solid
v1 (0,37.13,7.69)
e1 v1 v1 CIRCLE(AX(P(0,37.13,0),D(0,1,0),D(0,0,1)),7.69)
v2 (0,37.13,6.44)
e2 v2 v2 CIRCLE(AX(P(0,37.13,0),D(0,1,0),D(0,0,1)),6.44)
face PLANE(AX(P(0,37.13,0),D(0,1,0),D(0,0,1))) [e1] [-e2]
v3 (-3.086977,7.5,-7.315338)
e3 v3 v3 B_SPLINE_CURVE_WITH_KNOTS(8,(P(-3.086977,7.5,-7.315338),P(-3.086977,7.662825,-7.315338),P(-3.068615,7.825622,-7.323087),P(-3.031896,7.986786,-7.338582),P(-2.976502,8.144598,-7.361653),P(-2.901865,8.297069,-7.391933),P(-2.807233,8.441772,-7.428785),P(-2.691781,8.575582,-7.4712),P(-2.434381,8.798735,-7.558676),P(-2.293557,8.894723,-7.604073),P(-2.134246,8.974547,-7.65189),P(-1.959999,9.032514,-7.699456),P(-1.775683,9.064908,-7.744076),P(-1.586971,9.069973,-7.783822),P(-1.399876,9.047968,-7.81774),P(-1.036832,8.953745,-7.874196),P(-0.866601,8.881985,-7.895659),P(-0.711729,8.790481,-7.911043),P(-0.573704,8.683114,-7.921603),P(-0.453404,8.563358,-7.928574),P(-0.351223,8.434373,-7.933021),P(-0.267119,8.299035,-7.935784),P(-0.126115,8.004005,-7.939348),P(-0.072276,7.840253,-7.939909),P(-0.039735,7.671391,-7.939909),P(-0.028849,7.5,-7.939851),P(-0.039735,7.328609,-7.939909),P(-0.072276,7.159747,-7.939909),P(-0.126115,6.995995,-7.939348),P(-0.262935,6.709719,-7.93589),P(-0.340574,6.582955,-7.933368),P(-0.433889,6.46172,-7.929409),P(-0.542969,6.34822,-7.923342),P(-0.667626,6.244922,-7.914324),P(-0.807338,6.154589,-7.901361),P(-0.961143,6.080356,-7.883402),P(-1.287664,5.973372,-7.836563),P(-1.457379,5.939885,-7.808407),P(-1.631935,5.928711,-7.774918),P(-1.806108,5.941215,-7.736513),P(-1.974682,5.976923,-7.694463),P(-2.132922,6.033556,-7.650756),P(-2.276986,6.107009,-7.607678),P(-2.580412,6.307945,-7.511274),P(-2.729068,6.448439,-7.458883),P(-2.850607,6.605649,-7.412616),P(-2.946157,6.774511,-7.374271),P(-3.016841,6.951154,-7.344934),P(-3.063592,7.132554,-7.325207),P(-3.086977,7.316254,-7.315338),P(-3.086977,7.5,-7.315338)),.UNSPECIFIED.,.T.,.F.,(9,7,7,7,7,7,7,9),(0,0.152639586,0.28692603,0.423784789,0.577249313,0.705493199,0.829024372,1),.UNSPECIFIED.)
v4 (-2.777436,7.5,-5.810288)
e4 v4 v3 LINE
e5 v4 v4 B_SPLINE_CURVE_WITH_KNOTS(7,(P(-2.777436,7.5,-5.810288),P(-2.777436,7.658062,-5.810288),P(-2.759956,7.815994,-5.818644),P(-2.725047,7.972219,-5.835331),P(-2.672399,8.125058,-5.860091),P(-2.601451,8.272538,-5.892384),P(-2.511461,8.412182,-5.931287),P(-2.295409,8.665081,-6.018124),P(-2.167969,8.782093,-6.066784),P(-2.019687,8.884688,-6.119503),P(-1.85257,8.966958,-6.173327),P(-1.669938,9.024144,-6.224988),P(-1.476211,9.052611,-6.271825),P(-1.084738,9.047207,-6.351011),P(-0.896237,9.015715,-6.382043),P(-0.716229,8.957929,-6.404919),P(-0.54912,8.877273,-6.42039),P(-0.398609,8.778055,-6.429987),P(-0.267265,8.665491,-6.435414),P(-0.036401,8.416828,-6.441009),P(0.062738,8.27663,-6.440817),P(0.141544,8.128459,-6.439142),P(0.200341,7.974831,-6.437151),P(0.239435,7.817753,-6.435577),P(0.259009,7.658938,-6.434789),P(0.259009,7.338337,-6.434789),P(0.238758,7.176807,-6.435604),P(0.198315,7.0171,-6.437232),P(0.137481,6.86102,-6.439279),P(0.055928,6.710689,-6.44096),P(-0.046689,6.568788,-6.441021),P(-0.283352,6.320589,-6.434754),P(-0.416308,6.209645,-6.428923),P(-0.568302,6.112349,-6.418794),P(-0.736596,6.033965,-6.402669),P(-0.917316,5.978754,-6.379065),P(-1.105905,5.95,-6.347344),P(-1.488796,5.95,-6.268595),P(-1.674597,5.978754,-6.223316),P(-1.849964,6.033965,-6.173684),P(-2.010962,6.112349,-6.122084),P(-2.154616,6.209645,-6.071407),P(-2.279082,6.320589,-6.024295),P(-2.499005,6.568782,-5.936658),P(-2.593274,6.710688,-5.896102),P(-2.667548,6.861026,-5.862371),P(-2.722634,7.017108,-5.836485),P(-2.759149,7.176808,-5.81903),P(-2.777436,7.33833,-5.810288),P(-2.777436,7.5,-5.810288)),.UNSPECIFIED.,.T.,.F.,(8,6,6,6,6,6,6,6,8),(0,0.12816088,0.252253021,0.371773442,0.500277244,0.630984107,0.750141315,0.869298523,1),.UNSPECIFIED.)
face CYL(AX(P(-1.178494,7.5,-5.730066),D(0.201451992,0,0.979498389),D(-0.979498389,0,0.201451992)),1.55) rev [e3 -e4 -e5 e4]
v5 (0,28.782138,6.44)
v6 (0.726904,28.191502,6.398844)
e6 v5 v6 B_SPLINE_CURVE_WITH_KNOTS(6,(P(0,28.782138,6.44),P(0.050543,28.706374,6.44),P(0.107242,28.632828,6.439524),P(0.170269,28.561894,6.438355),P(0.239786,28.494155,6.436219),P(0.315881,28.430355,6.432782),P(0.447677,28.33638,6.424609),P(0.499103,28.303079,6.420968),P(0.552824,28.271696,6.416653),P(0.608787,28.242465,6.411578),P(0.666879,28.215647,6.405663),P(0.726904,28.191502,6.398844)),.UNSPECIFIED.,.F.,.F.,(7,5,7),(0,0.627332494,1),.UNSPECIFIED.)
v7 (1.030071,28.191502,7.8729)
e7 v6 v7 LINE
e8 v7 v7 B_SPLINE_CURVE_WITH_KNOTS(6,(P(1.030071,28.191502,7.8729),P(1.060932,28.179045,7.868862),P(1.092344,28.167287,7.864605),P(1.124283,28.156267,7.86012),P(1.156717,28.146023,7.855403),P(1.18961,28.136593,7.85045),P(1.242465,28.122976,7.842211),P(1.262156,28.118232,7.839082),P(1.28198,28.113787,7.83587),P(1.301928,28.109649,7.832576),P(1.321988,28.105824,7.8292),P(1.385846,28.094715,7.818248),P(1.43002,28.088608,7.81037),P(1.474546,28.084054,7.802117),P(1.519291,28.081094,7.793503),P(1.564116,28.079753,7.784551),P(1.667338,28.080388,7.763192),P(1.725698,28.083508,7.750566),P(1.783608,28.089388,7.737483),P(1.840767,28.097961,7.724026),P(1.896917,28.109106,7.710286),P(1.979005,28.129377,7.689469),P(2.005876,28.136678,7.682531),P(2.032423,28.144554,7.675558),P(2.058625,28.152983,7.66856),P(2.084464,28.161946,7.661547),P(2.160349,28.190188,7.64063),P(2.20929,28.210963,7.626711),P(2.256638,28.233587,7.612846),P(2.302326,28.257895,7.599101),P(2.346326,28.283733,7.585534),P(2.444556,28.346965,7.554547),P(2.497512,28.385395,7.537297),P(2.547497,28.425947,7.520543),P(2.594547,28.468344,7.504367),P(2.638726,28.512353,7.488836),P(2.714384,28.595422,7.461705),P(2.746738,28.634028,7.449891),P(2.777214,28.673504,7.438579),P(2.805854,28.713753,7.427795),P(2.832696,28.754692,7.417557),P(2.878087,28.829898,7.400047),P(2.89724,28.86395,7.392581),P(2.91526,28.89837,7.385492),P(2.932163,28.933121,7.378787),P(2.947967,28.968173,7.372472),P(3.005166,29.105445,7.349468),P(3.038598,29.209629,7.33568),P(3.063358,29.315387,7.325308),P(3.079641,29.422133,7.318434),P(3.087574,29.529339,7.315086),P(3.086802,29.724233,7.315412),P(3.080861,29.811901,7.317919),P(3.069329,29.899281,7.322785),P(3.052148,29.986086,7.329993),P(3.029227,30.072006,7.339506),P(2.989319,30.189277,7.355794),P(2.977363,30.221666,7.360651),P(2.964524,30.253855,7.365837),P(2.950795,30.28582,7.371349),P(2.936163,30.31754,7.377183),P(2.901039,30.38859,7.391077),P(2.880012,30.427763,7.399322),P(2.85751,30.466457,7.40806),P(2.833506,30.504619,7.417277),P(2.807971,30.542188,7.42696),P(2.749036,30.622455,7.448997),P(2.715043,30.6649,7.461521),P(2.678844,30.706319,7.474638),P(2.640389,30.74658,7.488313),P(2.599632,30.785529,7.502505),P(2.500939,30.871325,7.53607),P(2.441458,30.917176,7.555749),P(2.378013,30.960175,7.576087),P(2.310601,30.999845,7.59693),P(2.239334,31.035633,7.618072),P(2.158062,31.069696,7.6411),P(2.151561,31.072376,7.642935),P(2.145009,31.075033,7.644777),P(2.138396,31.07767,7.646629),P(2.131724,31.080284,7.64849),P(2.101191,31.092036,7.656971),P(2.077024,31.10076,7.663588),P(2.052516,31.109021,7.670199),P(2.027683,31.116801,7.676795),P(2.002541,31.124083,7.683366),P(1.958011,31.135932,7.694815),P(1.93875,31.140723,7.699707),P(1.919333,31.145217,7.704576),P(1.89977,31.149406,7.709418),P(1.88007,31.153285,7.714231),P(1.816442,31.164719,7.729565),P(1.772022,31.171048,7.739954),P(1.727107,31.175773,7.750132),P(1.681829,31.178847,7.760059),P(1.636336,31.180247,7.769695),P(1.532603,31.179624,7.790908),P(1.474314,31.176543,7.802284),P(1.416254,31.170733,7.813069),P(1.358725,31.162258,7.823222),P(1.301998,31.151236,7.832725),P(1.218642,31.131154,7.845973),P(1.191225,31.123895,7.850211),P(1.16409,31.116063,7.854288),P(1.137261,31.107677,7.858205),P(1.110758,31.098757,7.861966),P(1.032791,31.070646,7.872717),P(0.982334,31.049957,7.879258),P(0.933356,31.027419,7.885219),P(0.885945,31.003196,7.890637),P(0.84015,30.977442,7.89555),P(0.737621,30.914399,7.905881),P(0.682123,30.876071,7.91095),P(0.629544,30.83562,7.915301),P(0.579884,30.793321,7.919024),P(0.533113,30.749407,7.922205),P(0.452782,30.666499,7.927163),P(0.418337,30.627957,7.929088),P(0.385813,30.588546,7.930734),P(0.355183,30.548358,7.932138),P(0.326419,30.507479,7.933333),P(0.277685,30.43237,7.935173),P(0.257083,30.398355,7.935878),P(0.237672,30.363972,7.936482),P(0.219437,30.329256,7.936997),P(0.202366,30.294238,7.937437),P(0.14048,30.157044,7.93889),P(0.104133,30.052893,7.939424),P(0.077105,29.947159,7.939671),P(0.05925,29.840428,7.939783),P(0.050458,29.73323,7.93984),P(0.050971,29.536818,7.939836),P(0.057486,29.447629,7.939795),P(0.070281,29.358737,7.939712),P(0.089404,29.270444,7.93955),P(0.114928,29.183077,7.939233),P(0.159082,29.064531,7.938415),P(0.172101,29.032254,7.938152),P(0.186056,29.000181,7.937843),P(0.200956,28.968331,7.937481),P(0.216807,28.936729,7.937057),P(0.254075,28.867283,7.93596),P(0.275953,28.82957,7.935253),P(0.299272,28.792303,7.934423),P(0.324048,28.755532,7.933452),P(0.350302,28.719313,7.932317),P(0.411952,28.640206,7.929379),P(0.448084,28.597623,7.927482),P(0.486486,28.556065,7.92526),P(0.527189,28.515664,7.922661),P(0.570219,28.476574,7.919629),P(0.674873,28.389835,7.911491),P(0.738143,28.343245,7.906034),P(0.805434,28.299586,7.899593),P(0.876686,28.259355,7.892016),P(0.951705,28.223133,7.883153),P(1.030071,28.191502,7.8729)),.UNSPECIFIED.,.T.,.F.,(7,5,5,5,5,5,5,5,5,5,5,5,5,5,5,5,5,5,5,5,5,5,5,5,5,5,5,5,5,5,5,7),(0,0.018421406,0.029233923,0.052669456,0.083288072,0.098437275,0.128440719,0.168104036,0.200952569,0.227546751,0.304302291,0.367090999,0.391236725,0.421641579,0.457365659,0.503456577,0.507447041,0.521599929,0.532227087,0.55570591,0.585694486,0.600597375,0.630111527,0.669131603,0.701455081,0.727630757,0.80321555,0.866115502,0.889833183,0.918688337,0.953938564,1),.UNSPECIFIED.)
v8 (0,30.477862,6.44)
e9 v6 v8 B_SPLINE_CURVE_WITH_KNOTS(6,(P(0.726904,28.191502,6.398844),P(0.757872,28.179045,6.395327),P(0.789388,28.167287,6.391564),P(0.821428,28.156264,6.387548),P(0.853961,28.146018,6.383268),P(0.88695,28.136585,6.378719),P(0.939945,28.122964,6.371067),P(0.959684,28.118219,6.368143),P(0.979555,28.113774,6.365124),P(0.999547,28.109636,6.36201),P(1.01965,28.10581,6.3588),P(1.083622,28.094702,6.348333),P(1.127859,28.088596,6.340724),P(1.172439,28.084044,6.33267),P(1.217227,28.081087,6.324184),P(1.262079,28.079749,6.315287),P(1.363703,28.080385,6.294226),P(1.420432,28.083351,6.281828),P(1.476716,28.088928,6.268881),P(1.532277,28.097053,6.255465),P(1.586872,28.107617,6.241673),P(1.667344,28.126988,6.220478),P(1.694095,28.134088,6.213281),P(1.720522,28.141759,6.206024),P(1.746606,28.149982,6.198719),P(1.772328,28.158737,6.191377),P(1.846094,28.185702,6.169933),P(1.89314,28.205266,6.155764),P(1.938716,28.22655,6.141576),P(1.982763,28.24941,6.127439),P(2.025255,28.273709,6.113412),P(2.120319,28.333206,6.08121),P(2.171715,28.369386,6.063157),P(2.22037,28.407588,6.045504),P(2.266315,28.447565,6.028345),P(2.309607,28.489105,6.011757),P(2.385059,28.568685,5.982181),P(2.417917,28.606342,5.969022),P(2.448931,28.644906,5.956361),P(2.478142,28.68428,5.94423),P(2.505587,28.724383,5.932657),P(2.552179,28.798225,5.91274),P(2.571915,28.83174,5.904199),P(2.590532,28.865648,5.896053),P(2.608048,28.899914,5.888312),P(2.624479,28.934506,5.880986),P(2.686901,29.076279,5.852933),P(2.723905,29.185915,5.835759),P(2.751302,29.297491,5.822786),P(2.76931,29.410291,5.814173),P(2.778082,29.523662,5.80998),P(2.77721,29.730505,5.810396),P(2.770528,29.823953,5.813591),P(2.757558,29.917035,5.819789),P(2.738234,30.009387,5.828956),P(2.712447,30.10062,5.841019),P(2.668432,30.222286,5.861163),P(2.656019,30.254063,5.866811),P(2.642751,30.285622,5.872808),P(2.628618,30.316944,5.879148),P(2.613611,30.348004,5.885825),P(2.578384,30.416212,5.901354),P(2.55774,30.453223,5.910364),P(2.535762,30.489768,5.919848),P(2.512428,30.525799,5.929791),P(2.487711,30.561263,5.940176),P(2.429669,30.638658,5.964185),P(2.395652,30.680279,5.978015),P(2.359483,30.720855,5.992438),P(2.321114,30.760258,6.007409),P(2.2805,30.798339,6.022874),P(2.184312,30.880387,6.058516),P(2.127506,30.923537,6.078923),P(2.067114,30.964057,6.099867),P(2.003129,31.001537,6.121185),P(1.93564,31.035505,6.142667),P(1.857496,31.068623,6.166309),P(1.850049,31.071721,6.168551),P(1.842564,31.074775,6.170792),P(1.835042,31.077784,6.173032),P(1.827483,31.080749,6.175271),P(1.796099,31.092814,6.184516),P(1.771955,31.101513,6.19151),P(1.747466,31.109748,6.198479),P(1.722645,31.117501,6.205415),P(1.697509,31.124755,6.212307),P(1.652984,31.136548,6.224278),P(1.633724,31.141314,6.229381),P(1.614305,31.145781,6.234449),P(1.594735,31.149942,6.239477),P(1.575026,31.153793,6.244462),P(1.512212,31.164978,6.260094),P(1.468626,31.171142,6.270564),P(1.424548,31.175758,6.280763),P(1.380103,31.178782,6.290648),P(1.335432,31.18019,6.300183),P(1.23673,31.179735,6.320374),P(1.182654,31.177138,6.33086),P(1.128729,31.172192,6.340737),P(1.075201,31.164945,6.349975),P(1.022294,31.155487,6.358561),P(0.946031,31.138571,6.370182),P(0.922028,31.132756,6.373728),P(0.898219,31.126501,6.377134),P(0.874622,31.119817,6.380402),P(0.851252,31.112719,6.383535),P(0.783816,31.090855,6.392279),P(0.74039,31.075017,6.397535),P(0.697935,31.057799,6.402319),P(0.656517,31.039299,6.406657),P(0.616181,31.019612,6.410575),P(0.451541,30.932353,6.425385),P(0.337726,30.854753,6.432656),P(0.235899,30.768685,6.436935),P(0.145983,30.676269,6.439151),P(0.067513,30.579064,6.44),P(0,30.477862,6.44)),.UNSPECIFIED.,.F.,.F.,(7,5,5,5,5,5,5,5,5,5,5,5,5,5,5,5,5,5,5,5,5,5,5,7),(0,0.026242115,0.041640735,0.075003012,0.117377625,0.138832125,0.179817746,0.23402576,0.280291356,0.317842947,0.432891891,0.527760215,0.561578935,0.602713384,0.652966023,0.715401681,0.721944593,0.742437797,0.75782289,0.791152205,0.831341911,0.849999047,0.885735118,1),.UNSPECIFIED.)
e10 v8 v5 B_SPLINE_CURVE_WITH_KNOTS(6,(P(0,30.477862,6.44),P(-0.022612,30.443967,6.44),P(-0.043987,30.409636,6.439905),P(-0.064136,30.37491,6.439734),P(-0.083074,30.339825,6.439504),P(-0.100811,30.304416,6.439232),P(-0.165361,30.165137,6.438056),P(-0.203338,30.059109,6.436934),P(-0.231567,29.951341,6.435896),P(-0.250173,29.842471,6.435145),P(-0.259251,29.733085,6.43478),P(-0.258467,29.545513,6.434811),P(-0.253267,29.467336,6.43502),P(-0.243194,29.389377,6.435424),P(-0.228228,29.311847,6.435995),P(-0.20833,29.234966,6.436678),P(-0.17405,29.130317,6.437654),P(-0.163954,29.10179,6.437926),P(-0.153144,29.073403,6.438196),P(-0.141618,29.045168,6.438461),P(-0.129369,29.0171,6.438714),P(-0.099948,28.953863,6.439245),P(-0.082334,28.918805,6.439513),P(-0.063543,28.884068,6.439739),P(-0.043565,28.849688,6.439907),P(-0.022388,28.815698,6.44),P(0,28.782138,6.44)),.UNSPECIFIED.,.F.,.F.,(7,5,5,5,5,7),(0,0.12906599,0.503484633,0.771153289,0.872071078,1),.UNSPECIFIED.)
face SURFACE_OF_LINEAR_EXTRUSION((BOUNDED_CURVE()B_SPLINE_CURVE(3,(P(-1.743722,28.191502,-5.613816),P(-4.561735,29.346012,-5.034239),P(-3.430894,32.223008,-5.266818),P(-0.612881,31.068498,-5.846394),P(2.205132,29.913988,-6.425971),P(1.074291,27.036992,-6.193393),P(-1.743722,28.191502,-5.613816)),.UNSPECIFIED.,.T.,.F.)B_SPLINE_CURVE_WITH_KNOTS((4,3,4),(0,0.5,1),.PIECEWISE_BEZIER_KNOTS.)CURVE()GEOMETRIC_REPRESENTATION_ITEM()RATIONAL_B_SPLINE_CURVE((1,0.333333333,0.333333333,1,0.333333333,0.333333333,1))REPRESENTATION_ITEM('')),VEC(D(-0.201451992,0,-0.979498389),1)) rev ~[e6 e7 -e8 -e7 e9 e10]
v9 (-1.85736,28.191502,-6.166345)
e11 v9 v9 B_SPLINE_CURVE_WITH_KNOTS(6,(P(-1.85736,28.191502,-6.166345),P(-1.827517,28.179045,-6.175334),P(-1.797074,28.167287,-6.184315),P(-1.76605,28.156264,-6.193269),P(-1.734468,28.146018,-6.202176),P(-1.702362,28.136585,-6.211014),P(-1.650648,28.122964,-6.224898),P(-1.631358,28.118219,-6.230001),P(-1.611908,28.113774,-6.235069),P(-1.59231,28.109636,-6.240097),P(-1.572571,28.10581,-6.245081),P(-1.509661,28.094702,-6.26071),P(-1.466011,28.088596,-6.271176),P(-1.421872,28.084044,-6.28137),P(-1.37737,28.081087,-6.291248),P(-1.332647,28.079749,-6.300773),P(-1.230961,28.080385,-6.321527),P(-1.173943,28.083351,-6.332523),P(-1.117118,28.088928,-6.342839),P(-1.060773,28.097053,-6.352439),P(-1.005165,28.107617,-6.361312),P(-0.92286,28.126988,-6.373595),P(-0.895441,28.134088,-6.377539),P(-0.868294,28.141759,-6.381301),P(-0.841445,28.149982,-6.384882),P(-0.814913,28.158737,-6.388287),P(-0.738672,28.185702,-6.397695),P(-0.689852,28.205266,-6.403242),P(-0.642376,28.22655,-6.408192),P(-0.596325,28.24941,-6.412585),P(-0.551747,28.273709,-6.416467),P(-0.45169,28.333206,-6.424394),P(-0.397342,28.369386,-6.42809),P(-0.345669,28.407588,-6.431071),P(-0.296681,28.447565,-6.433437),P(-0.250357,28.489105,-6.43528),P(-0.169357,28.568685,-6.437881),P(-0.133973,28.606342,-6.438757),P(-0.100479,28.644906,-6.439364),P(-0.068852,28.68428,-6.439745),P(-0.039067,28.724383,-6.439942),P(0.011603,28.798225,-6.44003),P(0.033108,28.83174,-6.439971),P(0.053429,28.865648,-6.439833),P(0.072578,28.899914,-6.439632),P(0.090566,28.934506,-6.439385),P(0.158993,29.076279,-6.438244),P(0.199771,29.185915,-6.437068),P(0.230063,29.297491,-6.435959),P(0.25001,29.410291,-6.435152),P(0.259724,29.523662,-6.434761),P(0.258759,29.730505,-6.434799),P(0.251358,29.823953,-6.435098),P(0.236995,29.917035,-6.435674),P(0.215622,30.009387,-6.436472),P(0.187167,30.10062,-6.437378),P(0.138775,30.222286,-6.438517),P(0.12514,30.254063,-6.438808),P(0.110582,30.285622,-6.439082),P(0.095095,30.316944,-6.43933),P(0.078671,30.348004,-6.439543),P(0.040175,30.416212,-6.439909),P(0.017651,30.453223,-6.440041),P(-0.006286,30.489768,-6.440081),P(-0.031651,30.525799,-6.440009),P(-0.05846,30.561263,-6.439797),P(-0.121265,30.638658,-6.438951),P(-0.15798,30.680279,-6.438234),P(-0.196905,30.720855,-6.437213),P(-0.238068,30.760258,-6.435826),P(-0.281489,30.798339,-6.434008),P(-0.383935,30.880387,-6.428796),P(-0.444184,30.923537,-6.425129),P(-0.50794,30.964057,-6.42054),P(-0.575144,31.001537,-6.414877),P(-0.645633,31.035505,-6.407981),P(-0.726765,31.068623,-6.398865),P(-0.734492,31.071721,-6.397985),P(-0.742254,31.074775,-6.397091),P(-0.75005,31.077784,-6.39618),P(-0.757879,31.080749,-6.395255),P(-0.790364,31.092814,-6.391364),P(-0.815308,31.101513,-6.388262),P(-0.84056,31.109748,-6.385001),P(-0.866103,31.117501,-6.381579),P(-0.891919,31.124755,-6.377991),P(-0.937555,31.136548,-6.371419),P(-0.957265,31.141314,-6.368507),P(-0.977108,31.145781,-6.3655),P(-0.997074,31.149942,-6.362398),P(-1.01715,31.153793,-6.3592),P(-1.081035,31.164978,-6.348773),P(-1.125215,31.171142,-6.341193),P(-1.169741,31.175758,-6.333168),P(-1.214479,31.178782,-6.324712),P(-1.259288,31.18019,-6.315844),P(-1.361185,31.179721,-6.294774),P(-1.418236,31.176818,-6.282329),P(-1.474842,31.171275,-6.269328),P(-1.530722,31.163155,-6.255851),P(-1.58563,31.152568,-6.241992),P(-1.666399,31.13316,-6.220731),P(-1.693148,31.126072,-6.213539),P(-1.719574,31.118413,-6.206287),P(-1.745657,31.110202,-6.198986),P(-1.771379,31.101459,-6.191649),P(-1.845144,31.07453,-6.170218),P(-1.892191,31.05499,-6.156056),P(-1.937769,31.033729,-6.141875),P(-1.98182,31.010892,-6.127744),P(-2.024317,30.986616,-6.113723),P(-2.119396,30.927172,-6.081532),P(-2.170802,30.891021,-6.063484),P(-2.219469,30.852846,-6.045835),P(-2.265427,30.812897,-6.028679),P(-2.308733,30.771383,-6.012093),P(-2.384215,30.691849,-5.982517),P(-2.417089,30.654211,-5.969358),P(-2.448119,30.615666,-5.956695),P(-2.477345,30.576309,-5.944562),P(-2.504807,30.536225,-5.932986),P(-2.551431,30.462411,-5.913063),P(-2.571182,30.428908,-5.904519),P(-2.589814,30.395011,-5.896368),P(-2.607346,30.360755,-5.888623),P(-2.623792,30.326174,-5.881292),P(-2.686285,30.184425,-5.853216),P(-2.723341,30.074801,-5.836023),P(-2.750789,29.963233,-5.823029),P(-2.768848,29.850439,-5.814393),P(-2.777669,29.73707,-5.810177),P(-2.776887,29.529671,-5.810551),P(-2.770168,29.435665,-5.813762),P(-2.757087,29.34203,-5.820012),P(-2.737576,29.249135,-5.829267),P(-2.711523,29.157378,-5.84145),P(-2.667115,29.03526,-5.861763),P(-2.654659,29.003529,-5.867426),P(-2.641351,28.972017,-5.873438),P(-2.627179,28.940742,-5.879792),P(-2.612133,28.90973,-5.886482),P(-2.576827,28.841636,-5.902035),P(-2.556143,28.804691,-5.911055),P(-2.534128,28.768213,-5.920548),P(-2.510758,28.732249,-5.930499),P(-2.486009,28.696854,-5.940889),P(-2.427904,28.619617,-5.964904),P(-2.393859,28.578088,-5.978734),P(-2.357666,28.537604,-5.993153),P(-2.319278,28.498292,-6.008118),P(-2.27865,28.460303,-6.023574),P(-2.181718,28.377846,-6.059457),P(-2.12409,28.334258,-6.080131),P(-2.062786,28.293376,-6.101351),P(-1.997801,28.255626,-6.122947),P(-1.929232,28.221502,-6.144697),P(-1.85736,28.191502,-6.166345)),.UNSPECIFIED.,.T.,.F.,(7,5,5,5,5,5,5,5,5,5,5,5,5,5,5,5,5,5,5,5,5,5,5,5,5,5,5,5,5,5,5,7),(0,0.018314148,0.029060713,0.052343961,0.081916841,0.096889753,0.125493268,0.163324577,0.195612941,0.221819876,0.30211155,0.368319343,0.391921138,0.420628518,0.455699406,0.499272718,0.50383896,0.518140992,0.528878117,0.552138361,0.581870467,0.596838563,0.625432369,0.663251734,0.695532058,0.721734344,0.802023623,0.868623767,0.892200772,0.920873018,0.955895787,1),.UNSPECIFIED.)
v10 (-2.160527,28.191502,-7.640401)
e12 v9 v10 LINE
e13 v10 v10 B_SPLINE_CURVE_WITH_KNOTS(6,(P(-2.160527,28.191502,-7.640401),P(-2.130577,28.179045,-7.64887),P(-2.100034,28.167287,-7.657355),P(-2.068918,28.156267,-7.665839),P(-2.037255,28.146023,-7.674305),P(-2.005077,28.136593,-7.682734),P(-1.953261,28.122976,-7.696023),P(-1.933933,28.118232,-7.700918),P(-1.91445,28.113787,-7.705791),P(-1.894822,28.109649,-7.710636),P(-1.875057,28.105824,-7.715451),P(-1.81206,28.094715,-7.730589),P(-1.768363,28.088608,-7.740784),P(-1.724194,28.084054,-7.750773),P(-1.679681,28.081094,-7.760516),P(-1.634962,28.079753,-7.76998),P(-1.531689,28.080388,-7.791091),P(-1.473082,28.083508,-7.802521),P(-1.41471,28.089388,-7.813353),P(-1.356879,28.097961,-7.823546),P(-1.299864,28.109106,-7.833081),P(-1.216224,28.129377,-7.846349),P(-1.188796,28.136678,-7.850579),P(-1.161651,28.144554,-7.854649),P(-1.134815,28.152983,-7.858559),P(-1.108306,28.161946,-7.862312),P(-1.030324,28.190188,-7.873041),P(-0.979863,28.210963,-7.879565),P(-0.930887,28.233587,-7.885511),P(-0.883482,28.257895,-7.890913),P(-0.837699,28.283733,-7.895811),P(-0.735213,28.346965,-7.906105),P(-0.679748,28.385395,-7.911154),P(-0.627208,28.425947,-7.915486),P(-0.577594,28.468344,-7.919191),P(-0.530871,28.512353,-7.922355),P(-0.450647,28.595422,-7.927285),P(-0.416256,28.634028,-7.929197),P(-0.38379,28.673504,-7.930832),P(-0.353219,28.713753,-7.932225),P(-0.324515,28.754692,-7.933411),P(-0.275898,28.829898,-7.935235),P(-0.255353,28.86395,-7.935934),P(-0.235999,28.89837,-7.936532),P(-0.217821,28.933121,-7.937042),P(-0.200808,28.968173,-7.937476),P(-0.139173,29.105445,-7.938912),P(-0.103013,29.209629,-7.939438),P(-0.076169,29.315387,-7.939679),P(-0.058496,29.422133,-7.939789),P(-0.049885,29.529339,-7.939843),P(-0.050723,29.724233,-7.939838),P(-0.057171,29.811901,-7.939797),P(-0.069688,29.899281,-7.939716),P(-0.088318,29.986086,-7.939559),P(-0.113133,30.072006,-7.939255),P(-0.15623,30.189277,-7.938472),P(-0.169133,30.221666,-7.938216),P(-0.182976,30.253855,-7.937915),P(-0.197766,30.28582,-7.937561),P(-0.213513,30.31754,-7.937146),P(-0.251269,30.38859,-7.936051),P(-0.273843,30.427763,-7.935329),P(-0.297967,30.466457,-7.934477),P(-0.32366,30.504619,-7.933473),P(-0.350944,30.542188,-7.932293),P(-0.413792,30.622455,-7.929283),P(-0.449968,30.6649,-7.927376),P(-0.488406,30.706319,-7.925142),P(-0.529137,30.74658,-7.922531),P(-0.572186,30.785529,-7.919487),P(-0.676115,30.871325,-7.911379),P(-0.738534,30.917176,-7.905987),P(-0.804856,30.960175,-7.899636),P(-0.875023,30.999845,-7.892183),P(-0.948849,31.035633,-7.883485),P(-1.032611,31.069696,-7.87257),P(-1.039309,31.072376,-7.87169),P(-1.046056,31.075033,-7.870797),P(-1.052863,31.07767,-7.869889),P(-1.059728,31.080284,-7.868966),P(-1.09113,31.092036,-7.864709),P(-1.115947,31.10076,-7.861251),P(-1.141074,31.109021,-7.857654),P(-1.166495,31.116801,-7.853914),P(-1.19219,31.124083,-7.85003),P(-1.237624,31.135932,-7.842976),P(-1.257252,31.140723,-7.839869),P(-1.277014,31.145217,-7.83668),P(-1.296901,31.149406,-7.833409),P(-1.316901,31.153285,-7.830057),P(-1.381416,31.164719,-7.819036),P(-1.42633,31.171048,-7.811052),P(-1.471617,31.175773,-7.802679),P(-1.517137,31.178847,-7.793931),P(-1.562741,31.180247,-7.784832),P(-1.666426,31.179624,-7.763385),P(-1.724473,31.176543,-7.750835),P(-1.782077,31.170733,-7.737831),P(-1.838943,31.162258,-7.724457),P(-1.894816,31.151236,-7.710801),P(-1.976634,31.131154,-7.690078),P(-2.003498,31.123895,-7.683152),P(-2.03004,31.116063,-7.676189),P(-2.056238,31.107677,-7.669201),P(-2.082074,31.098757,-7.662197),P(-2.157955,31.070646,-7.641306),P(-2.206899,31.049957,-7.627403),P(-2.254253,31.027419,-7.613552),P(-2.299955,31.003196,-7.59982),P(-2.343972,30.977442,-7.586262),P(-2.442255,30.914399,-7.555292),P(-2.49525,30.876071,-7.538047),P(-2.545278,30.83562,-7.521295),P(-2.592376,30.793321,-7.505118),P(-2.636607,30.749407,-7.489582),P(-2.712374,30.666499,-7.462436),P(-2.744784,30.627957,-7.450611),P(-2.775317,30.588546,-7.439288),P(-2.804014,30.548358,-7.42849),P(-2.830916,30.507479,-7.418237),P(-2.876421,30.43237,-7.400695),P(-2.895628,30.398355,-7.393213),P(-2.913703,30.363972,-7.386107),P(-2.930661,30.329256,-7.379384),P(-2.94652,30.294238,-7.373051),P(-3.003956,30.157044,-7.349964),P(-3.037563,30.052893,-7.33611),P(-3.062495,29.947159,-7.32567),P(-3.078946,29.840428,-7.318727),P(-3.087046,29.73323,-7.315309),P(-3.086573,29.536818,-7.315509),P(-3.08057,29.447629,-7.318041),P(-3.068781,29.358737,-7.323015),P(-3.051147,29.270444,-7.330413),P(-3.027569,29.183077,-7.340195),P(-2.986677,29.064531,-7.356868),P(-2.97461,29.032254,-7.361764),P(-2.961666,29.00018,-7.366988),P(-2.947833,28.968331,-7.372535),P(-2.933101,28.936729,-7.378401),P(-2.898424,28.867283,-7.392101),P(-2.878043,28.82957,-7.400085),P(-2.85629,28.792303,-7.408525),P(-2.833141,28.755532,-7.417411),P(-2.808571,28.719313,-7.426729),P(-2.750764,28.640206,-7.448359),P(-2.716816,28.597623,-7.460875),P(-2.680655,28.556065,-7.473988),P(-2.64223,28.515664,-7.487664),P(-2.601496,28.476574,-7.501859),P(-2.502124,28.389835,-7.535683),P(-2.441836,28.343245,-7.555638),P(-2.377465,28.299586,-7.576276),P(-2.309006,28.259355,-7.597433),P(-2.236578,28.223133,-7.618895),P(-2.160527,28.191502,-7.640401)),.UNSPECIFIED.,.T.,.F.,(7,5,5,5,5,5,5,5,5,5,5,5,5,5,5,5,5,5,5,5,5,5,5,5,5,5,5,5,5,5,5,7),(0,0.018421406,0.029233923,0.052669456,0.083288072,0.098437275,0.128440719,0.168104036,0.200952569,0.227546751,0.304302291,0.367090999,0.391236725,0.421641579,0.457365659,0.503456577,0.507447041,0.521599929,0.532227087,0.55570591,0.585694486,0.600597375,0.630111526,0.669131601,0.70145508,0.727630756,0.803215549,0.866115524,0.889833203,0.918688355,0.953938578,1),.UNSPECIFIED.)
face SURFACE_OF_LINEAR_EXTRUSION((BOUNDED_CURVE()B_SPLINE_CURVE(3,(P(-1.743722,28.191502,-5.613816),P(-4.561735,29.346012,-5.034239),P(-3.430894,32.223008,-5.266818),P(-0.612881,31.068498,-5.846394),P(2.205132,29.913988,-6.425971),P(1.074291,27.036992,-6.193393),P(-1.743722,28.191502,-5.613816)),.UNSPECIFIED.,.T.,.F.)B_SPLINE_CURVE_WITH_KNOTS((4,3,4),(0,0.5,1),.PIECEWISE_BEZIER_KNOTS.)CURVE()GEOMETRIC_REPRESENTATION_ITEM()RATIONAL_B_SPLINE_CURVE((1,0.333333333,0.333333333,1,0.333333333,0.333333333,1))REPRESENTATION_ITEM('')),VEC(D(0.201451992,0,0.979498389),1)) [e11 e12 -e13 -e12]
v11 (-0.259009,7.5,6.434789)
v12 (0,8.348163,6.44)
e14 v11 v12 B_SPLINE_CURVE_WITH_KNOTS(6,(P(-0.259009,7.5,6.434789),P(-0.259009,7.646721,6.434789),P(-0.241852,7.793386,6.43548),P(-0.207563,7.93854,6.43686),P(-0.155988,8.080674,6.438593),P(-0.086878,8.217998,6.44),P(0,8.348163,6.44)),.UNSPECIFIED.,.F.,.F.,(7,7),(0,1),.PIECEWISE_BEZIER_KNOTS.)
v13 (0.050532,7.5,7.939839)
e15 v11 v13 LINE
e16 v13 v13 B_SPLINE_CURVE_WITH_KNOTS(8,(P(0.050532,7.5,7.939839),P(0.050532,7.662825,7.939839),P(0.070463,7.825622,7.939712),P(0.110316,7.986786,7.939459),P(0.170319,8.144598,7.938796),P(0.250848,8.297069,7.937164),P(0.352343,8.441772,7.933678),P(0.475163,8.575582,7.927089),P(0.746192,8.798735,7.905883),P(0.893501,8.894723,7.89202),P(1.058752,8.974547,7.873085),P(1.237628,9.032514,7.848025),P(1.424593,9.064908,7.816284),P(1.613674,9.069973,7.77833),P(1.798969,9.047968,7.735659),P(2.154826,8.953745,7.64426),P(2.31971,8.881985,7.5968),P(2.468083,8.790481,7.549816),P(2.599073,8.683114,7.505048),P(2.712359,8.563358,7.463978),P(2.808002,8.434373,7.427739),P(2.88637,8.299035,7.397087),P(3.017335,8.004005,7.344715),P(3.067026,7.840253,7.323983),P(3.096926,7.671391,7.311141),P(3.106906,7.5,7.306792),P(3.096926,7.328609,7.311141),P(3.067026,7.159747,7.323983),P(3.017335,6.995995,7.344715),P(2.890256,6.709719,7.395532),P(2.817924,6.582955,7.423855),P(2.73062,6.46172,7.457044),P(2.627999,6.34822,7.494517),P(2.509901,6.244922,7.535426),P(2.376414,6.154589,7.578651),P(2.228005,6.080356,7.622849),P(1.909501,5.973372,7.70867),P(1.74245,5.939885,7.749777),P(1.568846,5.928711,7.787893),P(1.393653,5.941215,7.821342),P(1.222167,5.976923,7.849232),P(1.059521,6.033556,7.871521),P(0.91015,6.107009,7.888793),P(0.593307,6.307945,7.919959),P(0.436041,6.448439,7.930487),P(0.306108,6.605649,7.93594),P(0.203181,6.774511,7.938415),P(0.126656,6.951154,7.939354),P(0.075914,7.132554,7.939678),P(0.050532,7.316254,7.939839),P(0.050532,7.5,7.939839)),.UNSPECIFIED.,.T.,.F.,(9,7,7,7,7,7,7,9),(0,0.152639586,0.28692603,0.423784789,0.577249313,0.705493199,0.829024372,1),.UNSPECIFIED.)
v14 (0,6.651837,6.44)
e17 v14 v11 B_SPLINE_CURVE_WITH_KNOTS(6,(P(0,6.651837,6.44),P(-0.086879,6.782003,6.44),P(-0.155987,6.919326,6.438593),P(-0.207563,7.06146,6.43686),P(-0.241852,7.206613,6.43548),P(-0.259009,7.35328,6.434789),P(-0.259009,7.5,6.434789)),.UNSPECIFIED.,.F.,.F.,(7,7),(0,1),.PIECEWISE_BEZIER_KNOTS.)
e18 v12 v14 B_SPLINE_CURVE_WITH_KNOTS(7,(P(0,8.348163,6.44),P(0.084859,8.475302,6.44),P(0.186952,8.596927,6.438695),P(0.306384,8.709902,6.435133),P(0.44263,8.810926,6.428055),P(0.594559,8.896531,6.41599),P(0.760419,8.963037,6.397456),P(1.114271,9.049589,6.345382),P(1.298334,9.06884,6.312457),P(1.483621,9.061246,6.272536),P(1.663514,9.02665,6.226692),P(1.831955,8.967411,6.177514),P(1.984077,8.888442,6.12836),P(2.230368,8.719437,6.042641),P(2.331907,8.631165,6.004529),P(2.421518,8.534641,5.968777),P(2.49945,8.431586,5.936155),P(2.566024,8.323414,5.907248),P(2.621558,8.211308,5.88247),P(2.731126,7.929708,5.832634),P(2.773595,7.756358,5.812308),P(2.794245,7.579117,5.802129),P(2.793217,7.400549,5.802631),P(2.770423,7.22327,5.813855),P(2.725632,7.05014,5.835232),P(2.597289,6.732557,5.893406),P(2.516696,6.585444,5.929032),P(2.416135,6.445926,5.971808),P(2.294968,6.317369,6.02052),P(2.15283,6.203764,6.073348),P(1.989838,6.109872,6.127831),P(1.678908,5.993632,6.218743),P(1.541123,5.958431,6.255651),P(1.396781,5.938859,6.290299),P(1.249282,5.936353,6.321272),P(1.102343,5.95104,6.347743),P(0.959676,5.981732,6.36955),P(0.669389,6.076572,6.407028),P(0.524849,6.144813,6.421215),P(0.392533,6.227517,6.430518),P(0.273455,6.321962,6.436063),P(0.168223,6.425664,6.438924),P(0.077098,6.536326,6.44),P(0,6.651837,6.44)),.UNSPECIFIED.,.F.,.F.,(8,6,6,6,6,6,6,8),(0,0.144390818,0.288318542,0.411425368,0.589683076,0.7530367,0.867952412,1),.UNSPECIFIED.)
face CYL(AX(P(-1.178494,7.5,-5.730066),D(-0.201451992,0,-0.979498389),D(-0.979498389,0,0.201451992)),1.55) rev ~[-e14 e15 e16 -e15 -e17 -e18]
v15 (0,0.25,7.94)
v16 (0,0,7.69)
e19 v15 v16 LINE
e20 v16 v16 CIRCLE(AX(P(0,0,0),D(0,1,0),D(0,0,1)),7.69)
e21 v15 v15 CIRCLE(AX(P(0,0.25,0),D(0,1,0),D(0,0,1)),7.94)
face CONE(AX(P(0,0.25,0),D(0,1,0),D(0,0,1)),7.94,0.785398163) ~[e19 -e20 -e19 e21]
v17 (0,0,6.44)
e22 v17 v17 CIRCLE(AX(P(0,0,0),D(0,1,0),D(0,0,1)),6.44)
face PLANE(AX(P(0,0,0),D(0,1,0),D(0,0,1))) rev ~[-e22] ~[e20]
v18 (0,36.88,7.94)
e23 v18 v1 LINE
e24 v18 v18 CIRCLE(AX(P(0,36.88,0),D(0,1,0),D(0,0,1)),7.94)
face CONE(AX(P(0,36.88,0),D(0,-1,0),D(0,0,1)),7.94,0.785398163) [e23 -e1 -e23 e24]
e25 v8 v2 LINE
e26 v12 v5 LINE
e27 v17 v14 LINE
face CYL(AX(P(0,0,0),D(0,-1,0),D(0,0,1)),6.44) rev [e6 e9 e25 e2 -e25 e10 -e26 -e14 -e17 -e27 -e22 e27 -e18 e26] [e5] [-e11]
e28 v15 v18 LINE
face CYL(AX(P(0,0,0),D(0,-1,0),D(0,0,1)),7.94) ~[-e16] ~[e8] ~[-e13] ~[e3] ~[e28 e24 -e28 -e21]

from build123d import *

# Parameters (mm, degrees)
SKETCH1_R               = 7.94
SKETCH1_R_2             = 6.44
BOSS_EXTRUDE1_DEPTH     = 37.13
CHAMFER1_SIZE           = 0.25
SKETCH2_R               = 1.55
CUT_EXTRUDE1_DEPTH      = 41.603627037
CUT_EXTRUDE1_DEPTH_BACK = 41.603627037


with BuildPart() as part:
    # Sketch1 → Boss-Extrude1 (new body)
    with BuildSketch(Plane(origin=(0, 0, 0), x_dir=(1, 0, 0), z_dir=(0, 1, 0))):
        with Locations(Location((0, 0, 0), (0, 0, 270))):
            Circle(SKETCH1_R)
        with Locations(Location((0, 0, 0), (0, 0, 270))):
            Circle(SKETCH1_R_2, mode=Mode.SUBTRACT)
    extrude(amount=BOSS_EXTRUDE1_DEPTH)

    # Chamfer1
    chamfer1_edges = [part.edges().sort_by_distance(p)[0] for p in [
        (0, 0, -7.94),
        (0, 37.13, -7.94),
    ]]
    chamfer(chamfer1_edges, length=CHAMFER1_SIZE)

    # Sketch2 → Cut-Extrude1 (cut, two sides)
    with BuildSketch(Plane(origin=(-1.178494154, 0, -5.730065578), x_dir=(-0.9794983894003966, 0, 0.2014519922016887), z_dir=(-0.20145199220168866, 0, -0.9794983894003965))) as cut_extrude1_sk:
        with Locations((0, 7.5)):
            Circle(SKETCH2_R)
        with BuildLine():
            add(Edge.make_bspline(
                [(0.577058583, 28.191501993), (3.454054595, 29.346012251), (2.299544337, 32.223008265), (-0.577451675, 31.068498007), (-3.454447687, 29.913987749), (-2.29993743, 27.036991735), (0.577058583, 28.191501993)],
                knots=[0, 0, 0, 0, 0.5, 0.5, 0.5, 1, 1, 1, 1], degree=3, weights=[1, 0.333333333, 0.333333333, 1, 0.333333333, 0.333333333, 1]))
        make_face()
    extrude(amount=CUT_EXTRUDE1_DEPTH, mode=Mode.SUBTRACT)
    extrude(cut_extrude1_sk.sketch, amount=-CUT_EXTRUDE1_DEPTH_BACK, mode=Mode.SUBTRACT)


solid = part.part
